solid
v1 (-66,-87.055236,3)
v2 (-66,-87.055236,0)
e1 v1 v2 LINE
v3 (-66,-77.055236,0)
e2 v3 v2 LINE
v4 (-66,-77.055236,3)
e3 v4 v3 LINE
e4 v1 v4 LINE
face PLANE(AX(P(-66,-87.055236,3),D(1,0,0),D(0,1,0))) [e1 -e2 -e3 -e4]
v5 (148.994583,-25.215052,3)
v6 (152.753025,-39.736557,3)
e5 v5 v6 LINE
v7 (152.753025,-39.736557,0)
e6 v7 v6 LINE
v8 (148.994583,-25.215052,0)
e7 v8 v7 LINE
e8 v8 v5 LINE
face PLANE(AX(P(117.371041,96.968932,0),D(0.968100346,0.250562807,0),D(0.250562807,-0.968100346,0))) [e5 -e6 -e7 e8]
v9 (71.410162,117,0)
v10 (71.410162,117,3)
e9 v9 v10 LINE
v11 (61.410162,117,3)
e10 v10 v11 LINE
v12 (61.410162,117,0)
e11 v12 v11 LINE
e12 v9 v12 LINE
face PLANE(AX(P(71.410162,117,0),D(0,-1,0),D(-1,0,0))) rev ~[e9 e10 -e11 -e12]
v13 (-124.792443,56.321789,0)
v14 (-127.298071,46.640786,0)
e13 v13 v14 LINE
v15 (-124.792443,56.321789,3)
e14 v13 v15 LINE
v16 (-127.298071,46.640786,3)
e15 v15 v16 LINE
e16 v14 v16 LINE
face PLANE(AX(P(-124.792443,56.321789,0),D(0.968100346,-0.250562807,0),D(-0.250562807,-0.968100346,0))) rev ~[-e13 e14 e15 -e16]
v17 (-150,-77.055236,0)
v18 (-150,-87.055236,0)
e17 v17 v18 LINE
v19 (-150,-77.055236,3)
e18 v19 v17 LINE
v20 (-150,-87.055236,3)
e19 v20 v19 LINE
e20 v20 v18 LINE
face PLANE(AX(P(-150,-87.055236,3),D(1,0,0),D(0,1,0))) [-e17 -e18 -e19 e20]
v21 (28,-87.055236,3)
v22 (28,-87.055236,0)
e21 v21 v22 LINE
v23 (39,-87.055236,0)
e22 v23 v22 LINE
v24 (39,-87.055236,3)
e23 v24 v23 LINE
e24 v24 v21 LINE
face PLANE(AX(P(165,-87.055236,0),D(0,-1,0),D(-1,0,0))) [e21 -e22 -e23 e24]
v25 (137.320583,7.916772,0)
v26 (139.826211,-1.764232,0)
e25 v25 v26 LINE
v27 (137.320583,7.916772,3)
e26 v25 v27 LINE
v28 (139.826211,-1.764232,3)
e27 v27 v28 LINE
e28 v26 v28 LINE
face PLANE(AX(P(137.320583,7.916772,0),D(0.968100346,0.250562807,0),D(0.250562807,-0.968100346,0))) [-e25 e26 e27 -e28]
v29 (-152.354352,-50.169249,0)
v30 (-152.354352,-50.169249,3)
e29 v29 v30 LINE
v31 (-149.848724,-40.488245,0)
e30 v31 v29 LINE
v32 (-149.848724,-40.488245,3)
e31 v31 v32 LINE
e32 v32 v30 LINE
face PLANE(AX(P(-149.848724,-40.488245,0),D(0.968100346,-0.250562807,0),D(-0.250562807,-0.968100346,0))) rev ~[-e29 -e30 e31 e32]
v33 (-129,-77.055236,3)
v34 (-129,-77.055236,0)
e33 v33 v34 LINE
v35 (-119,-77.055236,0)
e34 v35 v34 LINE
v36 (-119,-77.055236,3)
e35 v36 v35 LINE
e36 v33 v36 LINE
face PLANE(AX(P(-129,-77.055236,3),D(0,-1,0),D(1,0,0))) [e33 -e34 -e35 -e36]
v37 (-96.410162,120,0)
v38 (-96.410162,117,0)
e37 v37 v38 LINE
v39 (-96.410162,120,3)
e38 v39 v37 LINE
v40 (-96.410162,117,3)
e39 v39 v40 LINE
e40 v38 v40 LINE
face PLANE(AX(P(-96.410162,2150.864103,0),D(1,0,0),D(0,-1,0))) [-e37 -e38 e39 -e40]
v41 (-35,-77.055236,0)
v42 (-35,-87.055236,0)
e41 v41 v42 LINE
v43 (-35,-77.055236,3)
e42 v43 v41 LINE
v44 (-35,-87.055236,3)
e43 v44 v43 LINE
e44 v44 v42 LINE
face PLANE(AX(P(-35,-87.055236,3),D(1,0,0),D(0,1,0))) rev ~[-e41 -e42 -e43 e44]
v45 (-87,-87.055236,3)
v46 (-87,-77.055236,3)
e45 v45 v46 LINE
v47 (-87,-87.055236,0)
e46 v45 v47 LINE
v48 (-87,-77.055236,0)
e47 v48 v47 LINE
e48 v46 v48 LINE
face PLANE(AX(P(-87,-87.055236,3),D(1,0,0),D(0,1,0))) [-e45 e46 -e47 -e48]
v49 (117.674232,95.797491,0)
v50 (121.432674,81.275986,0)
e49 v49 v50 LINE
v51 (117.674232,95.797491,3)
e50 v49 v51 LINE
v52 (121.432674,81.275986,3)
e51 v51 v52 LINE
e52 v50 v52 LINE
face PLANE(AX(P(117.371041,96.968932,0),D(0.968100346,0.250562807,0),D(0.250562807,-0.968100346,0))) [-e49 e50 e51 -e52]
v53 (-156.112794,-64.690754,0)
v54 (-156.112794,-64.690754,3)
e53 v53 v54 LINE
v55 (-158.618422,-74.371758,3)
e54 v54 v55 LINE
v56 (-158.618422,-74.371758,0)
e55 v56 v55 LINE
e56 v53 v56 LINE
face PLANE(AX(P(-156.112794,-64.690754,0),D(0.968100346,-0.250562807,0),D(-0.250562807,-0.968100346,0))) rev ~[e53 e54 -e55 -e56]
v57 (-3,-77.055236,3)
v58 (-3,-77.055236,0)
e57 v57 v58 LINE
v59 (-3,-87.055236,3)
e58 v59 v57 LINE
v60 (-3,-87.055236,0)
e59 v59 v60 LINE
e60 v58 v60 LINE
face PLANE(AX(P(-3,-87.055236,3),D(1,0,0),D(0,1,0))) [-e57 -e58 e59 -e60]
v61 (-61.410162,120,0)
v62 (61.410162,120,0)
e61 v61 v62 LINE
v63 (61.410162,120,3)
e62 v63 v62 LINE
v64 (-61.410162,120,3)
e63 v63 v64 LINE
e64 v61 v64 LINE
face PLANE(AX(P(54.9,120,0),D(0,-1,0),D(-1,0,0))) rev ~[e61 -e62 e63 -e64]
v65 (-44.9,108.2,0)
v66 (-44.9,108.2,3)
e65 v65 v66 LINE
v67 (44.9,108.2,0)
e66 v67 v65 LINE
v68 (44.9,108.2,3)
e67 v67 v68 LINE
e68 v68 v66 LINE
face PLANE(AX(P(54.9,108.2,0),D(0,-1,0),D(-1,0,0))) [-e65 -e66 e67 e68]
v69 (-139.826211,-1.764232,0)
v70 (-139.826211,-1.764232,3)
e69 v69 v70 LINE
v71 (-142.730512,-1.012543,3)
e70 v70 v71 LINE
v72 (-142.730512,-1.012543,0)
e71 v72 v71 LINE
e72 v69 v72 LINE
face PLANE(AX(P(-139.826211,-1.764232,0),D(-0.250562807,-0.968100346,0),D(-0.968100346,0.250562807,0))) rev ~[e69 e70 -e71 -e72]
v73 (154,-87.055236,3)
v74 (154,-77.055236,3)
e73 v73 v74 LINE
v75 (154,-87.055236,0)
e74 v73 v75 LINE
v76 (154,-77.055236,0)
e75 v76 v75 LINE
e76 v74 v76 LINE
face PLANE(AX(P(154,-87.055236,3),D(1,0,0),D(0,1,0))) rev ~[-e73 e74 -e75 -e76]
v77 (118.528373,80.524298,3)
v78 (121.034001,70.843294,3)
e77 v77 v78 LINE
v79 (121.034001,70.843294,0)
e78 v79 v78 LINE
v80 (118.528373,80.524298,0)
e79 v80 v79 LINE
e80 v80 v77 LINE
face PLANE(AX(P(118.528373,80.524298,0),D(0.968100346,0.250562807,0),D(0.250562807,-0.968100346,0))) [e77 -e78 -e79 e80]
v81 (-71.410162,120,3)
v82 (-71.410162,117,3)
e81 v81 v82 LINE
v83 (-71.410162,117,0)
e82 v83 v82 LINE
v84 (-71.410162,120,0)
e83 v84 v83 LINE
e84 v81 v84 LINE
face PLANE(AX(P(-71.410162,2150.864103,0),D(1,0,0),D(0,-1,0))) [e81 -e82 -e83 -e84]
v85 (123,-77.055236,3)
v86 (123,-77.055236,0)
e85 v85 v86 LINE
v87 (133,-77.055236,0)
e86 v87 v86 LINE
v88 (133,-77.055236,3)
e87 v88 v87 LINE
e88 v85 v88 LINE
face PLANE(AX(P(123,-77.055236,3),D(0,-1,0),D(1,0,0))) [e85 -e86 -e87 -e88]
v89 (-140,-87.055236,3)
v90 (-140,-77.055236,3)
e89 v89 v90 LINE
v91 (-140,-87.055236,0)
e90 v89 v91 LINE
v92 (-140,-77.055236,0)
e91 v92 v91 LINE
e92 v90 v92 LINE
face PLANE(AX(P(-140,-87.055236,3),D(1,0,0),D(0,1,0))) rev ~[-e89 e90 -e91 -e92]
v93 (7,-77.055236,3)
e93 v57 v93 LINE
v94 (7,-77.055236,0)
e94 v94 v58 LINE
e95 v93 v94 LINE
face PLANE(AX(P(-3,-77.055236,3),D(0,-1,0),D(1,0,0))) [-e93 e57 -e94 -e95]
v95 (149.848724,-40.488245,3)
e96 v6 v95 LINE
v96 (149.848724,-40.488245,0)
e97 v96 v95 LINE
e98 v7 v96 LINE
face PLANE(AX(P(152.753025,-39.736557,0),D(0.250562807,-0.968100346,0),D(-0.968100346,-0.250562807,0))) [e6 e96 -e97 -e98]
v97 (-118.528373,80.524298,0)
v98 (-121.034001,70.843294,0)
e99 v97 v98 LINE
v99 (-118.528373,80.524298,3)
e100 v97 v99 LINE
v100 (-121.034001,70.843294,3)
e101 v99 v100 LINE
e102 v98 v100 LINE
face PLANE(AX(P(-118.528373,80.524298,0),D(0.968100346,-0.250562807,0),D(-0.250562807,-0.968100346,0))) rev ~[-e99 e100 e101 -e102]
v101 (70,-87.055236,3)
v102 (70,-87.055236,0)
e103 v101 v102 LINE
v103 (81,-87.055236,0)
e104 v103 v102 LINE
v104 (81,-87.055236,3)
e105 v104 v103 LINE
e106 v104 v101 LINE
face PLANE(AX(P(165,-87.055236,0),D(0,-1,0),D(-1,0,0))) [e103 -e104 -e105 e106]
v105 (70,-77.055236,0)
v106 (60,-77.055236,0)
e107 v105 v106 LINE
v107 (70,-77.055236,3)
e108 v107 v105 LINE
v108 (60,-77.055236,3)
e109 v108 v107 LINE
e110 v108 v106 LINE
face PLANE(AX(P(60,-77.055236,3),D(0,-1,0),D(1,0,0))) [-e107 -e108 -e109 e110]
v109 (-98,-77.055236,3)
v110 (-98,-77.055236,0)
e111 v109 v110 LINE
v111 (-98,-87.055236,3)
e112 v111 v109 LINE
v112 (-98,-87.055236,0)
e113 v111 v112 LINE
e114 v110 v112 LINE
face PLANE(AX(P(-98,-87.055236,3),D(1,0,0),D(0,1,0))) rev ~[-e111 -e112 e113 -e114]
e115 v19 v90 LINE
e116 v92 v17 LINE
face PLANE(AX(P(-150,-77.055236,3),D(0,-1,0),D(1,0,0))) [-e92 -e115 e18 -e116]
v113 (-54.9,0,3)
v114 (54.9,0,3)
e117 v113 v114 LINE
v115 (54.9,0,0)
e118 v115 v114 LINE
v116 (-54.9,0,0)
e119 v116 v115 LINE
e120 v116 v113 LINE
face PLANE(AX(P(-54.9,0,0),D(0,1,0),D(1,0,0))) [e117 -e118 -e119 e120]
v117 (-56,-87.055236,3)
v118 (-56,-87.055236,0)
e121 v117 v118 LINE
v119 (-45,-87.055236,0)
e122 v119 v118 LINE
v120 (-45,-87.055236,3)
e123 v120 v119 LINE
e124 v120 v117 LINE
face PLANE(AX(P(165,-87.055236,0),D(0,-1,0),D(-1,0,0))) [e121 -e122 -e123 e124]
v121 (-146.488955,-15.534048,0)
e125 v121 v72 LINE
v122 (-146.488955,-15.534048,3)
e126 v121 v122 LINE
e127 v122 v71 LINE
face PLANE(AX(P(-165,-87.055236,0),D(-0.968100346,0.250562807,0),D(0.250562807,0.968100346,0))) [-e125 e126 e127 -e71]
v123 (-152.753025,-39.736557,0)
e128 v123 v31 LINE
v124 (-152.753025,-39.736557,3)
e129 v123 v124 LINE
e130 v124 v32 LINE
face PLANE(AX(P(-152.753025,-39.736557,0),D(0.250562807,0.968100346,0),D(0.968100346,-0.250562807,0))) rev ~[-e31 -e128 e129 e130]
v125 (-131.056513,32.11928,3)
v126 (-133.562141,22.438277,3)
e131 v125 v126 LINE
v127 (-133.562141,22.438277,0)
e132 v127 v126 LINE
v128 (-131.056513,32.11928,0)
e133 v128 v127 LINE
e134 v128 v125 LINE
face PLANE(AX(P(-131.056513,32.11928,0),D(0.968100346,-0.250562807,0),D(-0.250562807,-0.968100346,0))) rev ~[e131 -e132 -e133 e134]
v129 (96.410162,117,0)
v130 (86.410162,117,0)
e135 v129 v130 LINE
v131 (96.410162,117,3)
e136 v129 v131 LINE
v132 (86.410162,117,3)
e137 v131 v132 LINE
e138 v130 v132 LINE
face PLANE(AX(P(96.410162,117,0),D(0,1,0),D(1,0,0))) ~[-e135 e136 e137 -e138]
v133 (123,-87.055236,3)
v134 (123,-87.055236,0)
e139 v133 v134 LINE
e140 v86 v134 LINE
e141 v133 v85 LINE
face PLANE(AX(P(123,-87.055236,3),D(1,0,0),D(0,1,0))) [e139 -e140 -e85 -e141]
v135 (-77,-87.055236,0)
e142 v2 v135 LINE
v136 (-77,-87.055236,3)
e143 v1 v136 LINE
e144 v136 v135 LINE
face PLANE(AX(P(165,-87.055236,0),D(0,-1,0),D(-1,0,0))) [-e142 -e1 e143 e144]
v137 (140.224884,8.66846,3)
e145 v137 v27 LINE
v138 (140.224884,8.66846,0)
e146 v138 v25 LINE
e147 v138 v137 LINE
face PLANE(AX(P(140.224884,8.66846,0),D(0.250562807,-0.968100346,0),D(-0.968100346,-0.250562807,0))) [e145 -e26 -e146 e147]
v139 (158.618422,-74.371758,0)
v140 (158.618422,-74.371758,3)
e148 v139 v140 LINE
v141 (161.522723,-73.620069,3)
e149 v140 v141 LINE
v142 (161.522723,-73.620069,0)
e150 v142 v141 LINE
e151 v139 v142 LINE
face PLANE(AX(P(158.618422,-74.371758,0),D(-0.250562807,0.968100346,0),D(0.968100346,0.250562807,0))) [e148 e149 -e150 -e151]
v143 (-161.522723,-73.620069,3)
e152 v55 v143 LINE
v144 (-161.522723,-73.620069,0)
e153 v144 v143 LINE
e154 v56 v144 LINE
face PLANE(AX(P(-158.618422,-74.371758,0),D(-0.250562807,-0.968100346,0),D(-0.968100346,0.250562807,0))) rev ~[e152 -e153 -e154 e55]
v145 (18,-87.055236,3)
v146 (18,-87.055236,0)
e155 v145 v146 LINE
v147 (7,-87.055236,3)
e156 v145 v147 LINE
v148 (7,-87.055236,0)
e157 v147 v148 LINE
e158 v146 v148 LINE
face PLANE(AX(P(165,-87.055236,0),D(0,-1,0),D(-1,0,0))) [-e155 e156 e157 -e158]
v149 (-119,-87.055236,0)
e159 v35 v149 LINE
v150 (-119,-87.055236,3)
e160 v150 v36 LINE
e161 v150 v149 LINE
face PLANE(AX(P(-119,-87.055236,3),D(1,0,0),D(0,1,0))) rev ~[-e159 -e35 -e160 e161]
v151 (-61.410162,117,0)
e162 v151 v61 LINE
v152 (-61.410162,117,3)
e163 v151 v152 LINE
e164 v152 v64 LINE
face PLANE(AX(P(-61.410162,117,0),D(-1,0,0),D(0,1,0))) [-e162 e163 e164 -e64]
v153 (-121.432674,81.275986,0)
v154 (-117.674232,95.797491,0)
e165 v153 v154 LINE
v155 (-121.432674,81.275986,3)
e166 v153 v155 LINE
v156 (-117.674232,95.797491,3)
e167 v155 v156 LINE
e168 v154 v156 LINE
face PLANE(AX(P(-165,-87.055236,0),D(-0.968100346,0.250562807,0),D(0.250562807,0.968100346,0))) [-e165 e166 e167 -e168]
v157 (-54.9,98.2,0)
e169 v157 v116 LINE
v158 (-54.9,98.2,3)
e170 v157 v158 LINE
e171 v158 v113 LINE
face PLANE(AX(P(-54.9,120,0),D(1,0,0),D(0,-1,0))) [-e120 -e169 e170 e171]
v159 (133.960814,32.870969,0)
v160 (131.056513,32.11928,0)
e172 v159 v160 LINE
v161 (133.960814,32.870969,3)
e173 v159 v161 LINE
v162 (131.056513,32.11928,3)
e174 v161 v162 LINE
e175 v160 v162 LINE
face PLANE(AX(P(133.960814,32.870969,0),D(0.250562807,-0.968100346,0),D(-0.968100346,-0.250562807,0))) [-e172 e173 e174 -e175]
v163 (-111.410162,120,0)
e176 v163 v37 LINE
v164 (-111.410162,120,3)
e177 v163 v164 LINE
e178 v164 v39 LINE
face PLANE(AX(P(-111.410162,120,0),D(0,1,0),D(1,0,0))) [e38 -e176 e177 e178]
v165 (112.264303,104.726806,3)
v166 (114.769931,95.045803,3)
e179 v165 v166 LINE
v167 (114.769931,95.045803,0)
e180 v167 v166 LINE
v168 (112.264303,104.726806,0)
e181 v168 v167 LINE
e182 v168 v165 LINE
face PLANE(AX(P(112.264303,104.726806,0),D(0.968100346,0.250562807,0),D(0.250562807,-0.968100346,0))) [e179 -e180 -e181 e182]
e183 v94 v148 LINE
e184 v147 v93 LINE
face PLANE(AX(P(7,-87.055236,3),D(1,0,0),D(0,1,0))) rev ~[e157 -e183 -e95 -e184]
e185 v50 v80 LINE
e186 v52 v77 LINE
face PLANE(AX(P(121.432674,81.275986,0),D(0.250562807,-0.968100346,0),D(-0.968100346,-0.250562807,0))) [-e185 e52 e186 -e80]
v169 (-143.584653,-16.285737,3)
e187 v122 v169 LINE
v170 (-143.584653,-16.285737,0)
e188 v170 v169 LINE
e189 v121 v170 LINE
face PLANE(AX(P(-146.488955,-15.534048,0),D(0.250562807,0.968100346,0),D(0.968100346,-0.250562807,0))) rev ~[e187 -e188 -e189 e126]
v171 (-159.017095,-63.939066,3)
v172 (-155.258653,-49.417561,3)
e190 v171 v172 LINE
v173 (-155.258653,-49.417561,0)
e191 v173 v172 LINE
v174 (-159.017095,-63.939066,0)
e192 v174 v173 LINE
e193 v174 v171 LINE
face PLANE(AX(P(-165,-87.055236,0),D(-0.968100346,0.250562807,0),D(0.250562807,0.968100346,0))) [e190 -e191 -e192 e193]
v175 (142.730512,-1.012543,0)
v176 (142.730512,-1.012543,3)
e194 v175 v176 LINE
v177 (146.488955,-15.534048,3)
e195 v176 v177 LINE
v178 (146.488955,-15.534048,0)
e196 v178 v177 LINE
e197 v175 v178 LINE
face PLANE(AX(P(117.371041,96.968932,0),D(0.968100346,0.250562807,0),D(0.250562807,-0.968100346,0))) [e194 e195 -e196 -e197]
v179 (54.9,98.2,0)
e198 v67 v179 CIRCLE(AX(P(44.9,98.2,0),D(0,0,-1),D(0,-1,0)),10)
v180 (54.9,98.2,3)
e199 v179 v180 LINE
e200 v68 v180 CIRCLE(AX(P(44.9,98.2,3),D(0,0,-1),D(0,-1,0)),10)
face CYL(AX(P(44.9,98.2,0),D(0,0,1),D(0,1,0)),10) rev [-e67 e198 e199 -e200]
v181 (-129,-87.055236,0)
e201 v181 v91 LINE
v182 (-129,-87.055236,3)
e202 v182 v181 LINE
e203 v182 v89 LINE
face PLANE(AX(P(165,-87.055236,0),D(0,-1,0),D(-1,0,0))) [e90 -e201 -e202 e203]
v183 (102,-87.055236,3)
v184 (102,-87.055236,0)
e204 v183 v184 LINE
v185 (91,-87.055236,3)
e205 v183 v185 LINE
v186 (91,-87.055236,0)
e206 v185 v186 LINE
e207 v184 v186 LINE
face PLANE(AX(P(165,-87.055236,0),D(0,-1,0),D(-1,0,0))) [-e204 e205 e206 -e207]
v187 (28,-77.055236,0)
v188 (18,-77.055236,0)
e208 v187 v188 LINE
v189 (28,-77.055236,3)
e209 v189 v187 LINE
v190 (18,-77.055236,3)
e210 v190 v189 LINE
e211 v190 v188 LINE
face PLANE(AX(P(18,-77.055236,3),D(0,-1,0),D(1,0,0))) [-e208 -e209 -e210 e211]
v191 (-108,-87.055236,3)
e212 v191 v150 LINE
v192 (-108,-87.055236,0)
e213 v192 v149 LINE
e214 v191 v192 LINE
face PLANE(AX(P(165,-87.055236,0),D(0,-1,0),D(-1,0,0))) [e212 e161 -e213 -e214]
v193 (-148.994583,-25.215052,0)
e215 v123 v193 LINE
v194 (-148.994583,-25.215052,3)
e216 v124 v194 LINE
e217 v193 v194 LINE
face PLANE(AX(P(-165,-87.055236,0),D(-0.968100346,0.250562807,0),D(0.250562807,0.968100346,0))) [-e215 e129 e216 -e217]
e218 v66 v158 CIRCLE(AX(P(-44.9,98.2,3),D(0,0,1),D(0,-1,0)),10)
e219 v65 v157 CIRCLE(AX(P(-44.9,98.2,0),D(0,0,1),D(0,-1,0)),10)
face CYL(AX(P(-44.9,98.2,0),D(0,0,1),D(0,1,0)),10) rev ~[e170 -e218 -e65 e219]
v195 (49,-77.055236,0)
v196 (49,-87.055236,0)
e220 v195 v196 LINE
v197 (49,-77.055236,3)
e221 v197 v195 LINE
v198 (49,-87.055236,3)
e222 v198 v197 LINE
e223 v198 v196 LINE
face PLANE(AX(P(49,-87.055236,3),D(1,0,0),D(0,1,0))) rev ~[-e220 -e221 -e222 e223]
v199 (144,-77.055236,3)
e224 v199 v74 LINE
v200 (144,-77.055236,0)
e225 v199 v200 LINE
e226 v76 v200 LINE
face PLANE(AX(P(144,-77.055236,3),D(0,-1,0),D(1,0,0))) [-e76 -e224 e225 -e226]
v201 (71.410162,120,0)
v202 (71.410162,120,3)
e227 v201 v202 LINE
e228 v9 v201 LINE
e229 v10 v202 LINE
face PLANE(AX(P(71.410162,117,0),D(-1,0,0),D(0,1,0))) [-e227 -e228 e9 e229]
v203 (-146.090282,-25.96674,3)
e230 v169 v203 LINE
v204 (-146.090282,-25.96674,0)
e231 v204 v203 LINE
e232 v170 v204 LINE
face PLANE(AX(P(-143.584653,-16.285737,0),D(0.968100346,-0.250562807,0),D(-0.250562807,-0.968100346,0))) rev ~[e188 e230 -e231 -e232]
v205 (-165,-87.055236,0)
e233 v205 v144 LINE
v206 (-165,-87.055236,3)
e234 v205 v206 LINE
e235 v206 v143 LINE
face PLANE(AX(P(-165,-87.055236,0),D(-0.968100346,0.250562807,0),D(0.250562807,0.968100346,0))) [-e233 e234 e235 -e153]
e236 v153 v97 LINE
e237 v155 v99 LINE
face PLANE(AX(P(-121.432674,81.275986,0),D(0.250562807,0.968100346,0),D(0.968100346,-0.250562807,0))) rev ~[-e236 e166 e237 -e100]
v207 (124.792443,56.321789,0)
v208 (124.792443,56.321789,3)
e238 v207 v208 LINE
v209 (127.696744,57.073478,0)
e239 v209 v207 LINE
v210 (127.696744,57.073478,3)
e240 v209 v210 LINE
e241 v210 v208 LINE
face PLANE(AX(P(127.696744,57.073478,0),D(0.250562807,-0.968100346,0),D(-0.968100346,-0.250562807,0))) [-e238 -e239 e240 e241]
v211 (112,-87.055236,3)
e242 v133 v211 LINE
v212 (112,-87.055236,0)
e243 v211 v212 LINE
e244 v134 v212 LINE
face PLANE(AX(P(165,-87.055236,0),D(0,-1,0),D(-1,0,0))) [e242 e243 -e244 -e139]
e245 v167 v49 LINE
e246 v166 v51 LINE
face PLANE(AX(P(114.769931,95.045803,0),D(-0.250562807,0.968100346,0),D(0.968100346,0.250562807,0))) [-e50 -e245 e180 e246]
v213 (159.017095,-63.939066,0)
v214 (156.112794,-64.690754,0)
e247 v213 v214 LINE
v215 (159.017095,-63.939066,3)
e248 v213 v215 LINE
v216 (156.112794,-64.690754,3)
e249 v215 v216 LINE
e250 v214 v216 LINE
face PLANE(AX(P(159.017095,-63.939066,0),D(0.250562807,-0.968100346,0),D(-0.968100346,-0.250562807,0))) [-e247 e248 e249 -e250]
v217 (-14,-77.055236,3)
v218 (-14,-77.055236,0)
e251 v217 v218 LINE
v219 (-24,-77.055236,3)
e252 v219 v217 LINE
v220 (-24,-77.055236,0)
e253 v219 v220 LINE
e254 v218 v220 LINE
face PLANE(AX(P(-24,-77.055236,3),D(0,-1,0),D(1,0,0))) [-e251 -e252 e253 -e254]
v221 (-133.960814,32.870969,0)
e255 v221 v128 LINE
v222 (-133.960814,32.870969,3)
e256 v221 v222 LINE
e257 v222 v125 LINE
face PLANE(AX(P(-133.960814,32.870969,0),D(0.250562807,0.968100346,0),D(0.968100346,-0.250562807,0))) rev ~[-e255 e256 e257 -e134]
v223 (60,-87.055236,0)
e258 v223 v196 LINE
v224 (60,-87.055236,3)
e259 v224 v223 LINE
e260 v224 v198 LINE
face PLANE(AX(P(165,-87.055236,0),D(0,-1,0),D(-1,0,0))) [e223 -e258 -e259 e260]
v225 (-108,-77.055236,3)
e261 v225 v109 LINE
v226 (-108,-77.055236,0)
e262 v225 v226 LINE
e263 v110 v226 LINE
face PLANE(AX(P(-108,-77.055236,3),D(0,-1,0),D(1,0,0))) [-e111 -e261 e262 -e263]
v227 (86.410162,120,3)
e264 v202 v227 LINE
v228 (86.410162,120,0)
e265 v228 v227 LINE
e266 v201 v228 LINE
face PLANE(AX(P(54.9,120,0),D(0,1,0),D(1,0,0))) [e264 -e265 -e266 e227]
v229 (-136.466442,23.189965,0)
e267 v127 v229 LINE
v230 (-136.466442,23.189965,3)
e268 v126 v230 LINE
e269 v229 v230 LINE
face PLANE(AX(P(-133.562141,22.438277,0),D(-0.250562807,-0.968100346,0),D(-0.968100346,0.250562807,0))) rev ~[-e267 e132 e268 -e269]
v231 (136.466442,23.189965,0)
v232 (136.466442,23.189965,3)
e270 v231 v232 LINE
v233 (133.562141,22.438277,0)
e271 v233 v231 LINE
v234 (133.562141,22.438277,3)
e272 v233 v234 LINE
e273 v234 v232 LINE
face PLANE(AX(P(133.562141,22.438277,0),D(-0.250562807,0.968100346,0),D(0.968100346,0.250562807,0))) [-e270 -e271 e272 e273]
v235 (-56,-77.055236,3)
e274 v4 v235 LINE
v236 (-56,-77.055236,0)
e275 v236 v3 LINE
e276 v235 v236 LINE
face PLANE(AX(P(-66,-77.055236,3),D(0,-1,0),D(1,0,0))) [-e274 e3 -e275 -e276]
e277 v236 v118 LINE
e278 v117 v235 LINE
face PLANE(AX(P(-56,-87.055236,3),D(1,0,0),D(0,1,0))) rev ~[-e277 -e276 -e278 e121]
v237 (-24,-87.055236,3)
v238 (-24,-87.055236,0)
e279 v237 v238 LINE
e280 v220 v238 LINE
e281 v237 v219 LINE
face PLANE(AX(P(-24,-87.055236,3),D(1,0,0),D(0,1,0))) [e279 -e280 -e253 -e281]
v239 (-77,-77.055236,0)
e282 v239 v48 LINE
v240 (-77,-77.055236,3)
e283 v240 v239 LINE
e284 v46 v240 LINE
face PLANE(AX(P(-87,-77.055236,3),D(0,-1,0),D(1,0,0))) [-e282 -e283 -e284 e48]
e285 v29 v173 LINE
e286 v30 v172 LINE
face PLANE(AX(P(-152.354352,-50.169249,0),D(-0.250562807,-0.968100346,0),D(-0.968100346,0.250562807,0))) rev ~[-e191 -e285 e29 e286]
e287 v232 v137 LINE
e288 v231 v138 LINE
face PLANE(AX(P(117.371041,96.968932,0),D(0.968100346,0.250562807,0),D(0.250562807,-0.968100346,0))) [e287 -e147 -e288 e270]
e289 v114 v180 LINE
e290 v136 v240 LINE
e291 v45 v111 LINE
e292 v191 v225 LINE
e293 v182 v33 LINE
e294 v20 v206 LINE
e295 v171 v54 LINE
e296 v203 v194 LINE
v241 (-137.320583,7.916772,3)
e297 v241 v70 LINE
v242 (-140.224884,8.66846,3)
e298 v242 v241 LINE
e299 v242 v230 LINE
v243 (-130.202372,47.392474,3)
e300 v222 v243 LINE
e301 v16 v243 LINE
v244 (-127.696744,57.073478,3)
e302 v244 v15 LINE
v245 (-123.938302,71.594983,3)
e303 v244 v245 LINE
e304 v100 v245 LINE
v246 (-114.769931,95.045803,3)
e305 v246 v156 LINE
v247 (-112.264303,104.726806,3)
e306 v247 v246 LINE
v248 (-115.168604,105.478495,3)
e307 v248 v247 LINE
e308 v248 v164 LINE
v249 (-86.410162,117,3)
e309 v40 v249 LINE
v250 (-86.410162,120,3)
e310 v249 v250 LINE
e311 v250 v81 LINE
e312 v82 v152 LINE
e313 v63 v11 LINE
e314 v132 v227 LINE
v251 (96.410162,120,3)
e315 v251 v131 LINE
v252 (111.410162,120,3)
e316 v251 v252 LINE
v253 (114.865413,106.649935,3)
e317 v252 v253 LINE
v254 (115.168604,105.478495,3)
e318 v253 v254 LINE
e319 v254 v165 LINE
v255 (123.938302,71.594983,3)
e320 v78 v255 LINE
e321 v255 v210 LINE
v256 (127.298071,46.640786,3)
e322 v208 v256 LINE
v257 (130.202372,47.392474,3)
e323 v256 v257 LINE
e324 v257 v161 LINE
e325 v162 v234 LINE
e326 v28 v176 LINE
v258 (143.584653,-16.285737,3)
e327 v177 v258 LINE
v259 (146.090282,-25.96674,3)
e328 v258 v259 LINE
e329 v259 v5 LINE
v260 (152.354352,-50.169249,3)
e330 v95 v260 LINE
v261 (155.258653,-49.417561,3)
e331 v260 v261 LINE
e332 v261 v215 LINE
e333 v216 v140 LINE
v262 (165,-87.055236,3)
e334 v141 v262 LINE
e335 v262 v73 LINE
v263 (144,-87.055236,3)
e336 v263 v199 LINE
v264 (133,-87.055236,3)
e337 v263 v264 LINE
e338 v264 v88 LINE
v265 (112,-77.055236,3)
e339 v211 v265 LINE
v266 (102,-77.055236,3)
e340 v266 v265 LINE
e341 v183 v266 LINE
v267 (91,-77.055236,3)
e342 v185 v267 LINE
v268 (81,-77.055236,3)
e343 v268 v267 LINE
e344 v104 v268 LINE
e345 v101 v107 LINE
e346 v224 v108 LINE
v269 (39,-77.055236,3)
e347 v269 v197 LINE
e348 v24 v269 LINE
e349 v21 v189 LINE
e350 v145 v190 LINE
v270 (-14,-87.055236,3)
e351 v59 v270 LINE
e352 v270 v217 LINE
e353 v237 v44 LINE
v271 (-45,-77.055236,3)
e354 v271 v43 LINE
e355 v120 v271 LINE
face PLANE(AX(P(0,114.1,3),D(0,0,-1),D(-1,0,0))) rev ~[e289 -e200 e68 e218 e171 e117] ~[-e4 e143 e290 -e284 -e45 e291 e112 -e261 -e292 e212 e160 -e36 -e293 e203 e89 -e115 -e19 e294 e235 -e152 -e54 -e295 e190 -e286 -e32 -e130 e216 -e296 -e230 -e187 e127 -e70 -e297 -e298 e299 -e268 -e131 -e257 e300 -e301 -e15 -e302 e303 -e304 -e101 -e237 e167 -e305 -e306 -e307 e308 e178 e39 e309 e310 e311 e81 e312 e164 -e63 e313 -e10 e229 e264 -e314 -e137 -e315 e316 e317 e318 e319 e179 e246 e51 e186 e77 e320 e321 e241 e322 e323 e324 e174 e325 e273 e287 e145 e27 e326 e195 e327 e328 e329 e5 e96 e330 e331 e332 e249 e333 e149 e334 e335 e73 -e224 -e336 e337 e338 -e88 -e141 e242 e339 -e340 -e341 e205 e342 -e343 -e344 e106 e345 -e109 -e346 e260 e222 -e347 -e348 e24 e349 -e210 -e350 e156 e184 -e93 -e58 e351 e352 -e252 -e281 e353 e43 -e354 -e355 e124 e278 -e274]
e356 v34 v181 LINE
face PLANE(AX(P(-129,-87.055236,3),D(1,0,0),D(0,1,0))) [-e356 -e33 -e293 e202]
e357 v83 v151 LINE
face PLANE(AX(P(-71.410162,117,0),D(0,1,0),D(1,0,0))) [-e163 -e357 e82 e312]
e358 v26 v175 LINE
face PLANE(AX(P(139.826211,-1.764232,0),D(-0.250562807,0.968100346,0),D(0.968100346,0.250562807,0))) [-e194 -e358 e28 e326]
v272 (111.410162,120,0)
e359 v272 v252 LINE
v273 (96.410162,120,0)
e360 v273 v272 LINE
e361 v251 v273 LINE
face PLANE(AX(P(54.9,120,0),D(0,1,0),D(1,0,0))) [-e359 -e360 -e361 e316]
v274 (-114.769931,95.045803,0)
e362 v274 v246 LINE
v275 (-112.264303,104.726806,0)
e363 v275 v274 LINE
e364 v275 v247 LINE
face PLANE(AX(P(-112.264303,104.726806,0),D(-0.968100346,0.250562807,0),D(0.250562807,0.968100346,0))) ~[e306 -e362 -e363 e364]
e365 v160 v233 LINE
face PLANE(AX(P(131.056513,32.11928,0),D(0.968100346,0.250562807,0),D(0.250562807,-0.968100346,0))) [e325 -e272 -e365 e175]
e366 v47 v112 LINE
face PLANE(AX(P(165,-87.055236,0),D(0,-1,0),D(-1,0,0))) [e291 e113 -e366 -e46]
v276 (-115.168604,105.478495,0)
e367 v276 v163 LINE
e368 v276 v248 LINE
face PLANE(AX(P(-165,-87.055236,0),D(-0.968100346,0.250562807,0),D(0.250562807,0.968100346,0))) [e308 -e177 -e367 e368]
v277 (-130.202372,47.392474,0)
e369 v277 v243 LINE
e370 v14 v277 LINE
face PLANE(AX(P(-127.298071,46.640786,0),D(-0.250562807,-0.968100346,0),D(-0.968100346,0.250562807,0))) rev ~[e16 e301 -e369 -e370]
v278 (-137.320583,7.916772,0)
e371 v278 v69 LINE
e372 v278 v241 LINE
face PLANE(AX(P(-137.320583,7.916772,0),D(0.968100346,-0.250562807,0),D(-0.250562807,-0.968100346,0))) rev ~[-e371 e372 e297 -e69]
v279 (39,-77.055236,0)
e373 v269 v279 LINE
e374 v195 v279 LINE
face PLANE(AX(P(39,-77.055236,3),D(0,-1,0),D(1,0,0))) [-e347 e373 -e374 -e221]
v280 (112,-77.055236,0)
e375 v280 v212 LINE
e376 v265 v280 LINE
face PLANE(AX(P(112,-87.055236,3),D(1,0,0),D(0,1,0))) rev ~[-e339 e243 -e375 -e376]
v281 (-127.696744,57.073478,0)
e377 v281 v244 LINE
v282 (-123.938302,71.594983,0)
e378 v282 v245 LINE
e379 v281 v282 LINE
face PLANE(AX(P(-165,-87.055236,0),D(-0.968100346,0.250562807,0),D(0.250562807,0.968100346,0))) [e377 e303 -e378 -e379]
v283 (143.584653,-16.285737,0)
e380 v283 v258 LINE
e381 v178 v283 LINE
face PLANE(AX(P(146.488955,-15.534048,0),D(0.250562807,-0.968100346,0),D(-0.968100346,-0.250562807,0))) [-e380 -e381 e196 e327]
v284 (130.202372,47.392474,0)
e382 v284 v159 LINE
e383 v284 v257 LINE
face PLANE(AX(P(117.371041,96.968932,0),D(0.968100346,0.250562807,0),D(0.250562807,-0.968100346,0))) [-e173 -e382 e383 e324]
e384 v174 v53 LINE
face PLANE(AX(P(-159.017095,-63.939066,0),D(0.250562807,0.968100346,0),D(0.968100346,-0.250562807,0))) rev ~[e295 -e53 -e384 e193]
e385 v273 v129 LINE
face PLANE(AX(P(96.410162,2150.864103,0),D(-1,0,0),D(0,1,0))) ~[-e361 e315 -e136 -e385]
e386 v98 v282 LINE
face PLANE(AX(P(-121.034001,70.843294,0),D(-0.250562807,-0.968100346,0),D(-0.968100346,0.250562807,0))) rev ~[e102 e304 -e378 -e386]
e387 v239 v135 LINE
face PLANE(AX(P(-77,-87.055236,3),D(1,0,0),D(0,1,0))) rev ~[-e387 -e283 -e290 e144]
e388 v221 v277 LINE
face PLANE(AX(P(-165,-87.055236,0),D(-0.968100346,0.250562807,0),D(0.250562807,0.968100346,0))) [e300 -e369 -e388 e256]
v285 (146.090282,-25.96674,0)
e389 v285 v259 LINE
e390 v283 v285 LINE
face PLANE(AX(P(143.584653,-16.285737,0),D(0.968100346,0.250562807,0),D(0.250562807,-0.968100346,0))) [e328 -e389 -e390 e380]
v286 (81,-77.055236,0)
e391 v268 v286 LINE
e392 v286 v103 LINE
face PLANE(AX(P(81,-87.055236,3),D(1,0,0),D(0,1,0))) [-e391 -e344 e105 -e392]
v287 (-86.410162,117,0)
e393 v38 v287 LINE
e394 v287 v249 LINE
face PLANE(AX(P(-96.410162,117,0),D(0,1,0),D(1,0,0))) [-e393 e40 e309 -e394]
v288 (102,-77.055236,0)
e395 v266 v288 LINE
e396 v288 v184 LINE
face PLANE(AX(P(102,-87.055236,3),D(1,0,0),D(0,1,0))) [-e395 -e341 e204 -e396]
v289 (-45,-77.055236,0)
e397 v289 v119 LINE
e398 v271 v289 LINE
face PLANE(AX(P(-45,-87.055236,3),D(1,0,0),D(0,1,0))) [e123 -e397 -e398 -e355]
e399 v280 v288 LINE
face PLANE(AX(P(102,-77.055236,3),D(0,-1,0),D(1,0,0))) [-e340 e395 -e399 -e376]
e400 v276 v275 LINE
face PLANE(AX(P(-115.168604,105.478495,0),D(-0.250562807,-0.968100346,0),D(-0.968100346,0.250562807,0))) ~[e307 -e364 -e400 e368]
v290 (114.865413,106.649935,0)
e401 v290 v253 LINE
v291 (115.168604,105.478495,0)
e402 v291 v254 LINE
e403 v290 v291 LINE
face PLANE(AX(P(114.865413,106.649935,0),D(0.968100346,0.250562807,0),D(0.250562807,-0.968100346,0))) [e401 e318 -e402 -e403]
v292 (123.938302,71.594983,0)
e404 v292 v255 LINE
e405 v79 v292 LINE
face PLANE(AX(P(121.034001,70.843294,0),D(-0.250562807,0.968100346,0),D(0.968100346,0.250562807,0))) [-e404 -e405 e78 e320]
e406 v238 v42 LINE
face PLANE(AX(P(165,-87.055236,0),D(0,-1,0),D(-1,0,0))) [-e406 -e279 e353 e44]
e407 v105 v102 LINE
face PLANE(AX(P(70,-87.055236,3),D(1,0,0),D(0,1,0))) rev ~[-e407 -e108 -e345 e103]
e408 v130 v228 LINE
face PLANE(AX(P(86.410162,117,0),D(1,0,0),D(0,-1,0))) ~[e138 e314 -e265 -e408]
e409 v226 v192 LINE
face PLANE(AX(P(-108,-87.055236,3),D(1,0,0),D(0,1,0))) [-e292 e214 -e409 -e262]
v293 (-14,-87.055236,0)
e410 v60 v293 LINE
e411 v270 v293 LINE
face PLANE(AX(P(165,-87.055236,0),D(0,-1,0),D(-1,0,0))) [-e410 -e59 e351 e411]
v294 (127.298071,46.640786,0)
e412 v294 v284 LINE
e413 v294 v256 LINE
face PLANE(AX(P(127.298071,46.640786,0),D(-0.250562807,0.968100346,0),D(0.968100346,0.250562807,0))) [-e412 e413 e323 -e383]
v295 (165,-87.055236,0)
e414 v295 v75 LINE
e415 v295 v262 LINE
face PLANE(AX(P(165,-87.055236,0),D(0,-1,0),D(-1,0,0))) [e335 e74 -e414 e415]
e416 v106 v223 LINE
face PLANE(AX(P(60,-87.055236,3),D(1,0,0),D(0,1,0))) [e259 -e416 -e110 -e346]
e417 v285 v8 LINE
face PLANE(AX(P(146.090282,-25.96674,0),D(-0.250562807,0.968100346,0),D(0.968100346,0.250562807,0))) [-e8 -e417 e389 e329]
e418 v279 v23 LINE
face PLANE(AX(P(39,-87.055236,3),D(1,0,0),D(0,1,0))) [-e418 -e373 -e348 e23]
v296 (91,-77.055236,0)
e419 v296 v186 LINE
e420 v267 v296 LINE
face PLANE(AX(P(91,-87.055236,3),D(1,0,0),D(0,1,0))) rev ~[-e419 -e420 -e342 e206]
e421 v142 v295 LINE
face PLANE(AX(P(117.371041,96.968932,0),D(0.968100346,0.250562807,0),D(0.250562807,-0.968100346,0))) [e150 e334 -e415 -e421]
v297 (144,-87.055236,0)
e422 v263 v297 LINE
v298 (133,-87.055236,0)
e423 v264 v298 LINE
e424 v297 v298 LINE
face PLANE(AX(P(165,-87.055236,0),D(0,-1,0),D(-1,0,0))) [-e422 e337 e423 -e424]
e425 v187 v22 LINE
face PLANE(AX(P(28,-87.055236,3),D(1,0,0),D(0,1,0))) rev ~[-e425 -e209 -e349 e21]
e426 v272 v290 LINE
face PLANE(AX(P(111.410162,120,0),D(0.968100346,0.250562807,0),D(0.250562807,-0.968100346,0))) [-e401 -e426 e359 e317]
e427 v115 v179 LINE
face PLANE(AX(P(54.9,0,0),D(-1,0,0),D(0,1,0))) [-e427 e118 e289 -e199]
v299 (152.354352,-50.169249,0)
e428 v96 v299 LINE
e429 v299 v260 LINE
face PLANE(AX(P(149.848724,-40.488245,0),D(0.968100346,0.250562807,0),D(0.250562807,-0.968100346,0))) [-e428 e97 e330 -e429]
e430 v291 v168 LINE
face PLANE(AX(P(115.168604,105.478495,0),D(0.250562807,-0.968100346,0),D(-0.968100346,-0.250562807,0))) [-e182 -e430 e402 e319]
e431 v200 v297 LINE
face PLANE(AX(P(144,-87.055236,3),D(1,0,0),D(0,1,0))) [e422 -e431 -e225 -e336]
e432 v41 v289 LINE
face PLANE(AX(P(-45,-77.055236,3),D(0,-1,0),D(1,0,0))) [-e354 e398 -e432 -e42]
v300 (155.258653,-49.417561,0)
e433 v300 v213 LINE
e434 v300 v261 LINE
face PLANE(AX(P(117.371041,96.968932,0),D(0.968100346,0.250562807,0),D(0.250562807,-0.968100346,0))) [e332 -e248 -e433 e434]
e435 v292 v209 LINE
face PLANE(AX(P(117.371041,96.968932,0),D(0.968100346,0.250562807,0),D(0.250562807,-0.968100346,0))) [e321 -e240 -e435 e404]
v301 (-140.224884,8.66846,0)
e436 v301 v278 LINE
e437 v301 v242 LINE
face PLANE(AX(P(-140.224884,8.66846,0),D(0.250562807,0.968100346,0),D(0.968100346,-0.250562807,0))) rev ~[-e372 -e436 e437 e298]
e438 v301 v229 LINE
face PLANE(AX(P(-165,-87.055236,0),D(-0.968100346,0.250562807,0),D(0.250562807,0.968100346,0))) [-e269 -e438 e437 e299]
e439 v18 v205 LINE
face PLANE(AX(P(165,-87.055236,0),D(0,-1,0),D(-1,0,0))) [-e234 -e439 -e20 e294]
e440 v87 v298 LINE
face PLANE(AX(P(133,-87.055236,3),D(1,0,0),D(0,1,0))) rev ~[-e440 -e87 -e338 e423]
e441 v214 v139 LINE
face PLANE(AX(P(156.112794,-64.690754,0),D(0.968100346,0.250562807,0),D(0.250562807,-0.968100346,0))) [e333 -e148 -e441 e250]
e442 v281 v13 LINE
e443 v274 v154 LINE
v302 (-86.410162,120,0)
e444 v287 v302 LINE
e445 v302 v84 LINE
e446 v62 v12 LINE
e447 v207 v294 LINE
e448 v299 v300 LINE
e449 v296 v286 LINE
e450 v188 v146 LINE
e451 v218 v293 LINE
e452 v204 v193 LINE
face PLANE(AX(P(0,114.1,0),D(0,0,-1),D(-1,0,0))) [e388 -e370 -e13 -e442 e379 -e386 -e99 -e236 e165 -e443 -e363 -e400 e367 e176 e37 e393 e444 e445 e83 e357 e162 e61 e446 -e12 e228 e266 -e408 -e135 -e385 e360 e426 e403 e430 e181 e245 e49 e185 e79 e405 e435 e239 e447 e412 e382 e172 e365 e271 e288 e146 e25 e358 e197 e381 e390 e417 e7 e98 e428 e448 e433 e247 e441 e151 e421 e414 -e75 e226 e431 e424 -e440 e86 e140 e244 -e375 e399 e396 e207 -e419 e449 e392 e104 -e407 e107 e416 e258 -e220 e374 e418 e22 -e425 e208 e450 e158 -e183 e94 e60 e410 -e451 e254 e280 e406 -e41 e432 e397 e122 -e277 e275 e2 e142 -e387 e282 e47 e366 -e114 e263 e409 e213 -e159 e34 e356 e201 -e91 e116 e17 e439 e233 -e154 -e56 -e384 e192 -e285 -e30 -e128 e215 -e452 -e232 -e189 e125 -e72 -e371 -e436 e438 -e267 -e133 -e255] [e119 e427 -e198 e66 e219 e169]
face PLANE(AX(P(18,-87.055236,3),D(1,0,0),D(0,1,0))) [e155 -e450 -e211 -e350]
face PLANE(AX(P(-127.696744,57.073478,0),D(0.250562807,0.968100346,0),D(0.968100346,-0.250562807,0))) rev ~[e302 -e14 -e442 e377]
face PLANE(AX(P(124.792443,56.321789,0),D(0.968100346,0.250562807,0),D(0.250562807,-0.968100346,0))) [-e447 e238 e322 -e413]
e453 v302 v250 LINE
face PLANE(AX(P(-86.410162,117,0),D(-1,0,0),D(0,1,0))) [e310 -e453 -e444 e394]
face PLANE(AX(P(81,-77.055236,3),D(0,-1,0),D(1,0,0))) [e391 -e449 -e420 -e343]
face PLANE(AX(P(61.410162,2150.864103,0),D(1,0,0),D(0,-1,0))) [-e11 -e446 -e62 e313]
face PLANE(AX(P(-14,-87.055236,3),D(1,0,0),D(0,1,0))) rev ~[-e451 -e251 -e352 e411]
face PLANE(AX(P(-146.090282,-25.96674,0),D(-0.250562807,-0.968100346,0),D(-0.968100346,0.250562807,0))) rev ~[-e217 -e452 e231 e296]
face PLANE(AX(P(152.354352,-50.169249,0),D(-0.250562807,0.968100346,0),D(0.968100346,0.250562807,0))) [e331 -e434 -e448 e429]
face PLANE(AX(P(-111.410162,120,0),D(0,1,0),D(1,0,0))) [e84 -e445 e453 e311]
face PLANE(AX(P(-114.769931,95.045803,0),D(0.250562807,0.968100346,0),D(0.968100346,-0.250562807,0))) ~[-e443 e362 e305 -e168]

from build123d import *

# Parameters (mm, degrees)
BOSS_EXTRUDE1_DEPTH  = 3
CUT_EXTRUDE2_START   = -3
CUT_EXTRUDE2_DEPTH   = 208.044112878
LPATTERN2_COUNT      = 8
LPATTERN2_PITCH      = 25
MIRROR1_START        = -3
MIRROR1_COPY_1_DEPTH = 208.044112878
MIRROR1_COPY_2_DEPTH = 208.044112878
MIRROR1_COPY_3_DEPTH = 208.044112878
MIRROR1_COPY_4_DEPTH = 208.044112878
MIRROR1_COPY_5_DEPTH = 208.044112878
MIRROR1_COPY_6_DEPTH = 208.044112878
MIRROR1_COPY_7_DEPTH = 208.044112878
CUT_EXTRUDE3_START   = -3
CUT_EXTRUDE3_DEPTH   = 208.044112878
LPATTERN3_COUNT      = 2
LPATTERN3_PITCH      = 25
MIRROR2_START        = -3
MIRROR2_COPY_1_DEPTH = 208.044112878
SKETCH5_W            = 10
SKETCH5_H            = 10
CUT_EXTRUDE7_DEPTH   = 10
LPATTERN5_COUNT      = 15
LPATTERN5_PITCH      = 21
SKETCH9_W            = 109.8
SKETCH9_H            = 11.8
BOSS_EXTRUDE2_DEPTH  = 3
FILLET1_R            = 10


with BuildPart() as part:
    # Sketch1 → Boss-Extrude1 (new body)
    with BuildSketch(Plane.XY):
        Polygon((-111.410161514, 120), (-54.9, 120), (-54.9, 0), (54.9, 0), (54.9, 120), (111.410161514, 120), (114.865412578, 106.649935044), (117.371040649, 96.968931585), (165, -87.055236082), (-165, -87.055236082), align=None)
    extrude(amount=BOSS_EXTRUDE1_DEPTH)

    # Sketch3 → Cut-Extrude2 (cut)
    with BuildSketch(Plane.XY.offset(3).offset(CUT_EXTRUDE2_START)):
        Polygon((117.674231691, 95.797491353), (115.16860362, 105.478494812), (112.264302582, 104.72680639), (114.769930653, 95.045802932), align=None)
    cut_extrude2 = extrude(amount=CUT_EXTRUDE2_DEPTH, mode=Mode.SUBTRACT)

    # LPattern2: Cut-Extrude2 ×8
    with Locations(*[Vector(0.2505628070857313, -0.968100345886375, 0) * (i * LPATTERN2_PITCH) for i in range(1, LPATTERN2_COUNT)]):
        add(cut_extrude2, mode=Mode.SUBTRACT)

    # Mirror1: Cut-Extrude2 across plane
    add(cut_extrude2.mirror(Plane(origin=(0, 0, 0), x_dir=(0, 0, 1), z_dir=(1, 0, 0))), mode=Mode.SUBTRACT)

    # Mirror1 copy 1 sketch → Mirror1 copy 1 (cut)
    with BuildSketch(Plane(origin=(-6.264070177, -24.202508647, 3), x_dir=(-1, 0, 0), z_dir=(0, 0, 1)).offset(MIRROR1_START)):
        Polygon((117.674231691, -95.797491353), (115.16860362, -105.478494812), (112.264302582, -104.72680639), (114.769930653, -95.045802932), align=None)
    extrude(amount=MIRROR1_COPY_1_DEPTH, mode=Mode.SUBTRACT)

    # Mirror1 copy 2 sketch → Mirror1 copy 2 (cut)
    with BuildSketch(Plane(origin=(-12.528140354, -48.405017294, 3), x_dir=(-1, 0, 0), z_dir=(0, 0, 1)).offset(MIRROR1_START)):
        Polygon((117.674231691, -95.797491353), (115.16860362, -105.478494812), (112.264302582, -104.72680639), (114.769930653, -95.045802932), align=None)
    extrude(amount=MIRROR1_COPY_2_DEPTH, mode=Mode.SUBTRACT)

    # Mirror1 copy 3 sketch → Mirror1 copy 3 (cut)
    with BuildSketch(Plane(origin=(-18.792210531, -72.607525941, 3), x_dir=(-1, 0, 0), z_dir=(0, 0, 1)).offset(MIRROR1_START)):
        Polygon((117.674231691, -95.797491353), (115.16860362, -105.478494812), (112.264302582, -104.72680639), (114.769930653, -95.045802932), align=None)
    extrude(amount=MIRROR1_COPY_3_DEPTH, mode=Mode.SUBTRACT)

    # Mirror1 copy 4 sketch → Mirror1 copy 4 (cut)
    with BuildSketch(Plane(origin=(-25.056280709, -96.810034589, 3), x_dir=(-1, 0, 0), z_dir=(0, 0, 1)).offset(MIRROR1_START)):
        Polygon((117.674231691, -95.797491353), (115.16860362, -105.478494812), (112.264302582, -104.72680639), (114.769930653, -95.045802932), align=None)
    extrude(amount=MIRROR1_COPY_4_DEPTH, mode=Mode.SUBTRACT)

    # Mirror1 copy 5 sketch → Mirror1 copy 5 (cut)
    with BuildSketch(Plane(origin=(-31.320350886, -121.012543236, 3), x_dir=(-1, 0, 0), z_dir=(0, 0, 1)).offset(MIRROR1_START)):
        Polygon((117.674231691, -95.797491353), (115.16860362, -105.478494812), (112.264302582, -104.72680639), (114.769930653, -95.045802932), align=None)
    extrude(amount=MIRROR1_COPY_5_DEPTH, mode=Mode.SUBTRACT)

    # Mirror1 copy 6 sketch → Mirror1 copy 6 (cut)
    with BuildSketch(Plane(origin=(-37.584421063, -145.215051883, 3), x_dir=(-1, 0, 0), z_dir=(0, 0, 1)).offset(MIRROR1_START)):
        Polygon((117.674231691, -95.797491353), (115.16860362, -105.478494812), (112.264302582, -104.72680639), (114.769930653, -95.045802932), align=None)
    extrude(amount=MIRROR1_COPY_6_DEPTH, mode=Mode.SUBTRACT)

    # Mirror1 copy 7 sketch → Mirror1 copy 7 (cut)
    with BuildSketch(Plane(origin=(-43.84849124, -169.41756053, 3), x_dir=(-1, 0, 0), z_dir=(0, 0, 1)).offset(MIRROR1_START)):
        Polygon((117.674231691, -95.797491353), (115.16860362, -105.478494812), (112.264302582, -104.72680639), (114.769930653, -95.045802932), align=None)
    extrude(amount=MIRROR1_COPY_7_DEPTH, mode=Mode.SUBTRACT)

    # Sketch4 → Cut-Extrude3 (cut)
    with BuildSketch(Plane.XY.offset(3).offset(CUT_EXTRUDE3_START)):
        Polygon((-96.410161514, 796.954701105), (-96.410161514, 120), (-96.410161514, 117), (-86.410161514, 117), (-86.410161514, 120), (-86.410161514, 796.954701105), (-86.410161514, 2150.864103316), (-96.410161514, 2150.864103316), align=None)
    cut_extrude3 = extrude(amount=CUT_EXTRUDE3_DEPTH, mode=Mode.SUBTRACT)

    # LPattern3: Cut-Extrude3 ×2
    with Locations(*[(i * LPATTERN3_PITCH, 0, 0) for i in range(1, LPATTERN3_COUNT)]):
        add(cut_extrude3, mode=Mode.SUBTRACT)

    # Mirror2: Cut-Extrude3 across plane
    add(cut_extrude3.mirror(Plane(origin=(0, 0, 0), x_dir=(0, 0, 1), z_dir=(1, 0, 0))), mode=Mode.SUBTRACT)

    # Mirror2 copy 1 sketch → Mirror2 copy 1 (cut)
    with BuildSketch(Plane(origin=(-25, 0, 3), x_dir=(-1, 0, 0), z_dir=(0, 0, 1)).offset(MIRROR2_START)):
        Polygon((-96.410161514, -796.954701105), (-96.410161514, -120), (-96.410161514, -117), (-86.410161514, -117), (-86.410161514, -120), (-86.410161514, -796.954701105), (-86.410161514, -2150.864103316), (-96.410161514, -2150.864103316), align=None)
    extrude(amount=MIRROR2_COPY_1_DEPTH, mode=Mode.SUBTRACT)

    # Sketch5 → Cut-Extrude7 (cut)
    with BuildSketch(Plane.XY.offset(3)):
        with Locations((-145, -82.055236082)):
            Rectangle(SKETCH5_W, SKETCH5_H)
    cut_extrude7 = extrude(amount=-CUT_EXTRUDE7_DEPTH, mode=Mode.SUBTRACT)

    # LPattern5: Cut-Extrude7 ×15
    with Locations(*[(i * LPATTERN5_PITCH, 0, 0) for i in range(1, LPATTERN5_COUNT)]):
        add(cut_extrude7, mode=Mode.SUBTRACT)

    # Sketch9 → Boss-Extrude2 (add)
    with BuildSketch(Plane(origin=(0, 0, 0), x_dir=(-1, 0, 0), z_dir=(0, 0, -1))):
        with Locations((0, 114.1)):
            Rectangle(SKETCH9_W, SKETCH9_H)
    extrude(amount=-BOSS_EXTRUDE2_DEPTH)

    # Fillet1
    fillet1_edges = [part.edges().sort_by_distance(p)[0] for p in [
        (54.9, 108.2, 1.5),
        (-54.9, 108.2, 1.5),
    ]]
    fillet(fillet1_edges, radius=FILLET1_R)


solid = part.part
